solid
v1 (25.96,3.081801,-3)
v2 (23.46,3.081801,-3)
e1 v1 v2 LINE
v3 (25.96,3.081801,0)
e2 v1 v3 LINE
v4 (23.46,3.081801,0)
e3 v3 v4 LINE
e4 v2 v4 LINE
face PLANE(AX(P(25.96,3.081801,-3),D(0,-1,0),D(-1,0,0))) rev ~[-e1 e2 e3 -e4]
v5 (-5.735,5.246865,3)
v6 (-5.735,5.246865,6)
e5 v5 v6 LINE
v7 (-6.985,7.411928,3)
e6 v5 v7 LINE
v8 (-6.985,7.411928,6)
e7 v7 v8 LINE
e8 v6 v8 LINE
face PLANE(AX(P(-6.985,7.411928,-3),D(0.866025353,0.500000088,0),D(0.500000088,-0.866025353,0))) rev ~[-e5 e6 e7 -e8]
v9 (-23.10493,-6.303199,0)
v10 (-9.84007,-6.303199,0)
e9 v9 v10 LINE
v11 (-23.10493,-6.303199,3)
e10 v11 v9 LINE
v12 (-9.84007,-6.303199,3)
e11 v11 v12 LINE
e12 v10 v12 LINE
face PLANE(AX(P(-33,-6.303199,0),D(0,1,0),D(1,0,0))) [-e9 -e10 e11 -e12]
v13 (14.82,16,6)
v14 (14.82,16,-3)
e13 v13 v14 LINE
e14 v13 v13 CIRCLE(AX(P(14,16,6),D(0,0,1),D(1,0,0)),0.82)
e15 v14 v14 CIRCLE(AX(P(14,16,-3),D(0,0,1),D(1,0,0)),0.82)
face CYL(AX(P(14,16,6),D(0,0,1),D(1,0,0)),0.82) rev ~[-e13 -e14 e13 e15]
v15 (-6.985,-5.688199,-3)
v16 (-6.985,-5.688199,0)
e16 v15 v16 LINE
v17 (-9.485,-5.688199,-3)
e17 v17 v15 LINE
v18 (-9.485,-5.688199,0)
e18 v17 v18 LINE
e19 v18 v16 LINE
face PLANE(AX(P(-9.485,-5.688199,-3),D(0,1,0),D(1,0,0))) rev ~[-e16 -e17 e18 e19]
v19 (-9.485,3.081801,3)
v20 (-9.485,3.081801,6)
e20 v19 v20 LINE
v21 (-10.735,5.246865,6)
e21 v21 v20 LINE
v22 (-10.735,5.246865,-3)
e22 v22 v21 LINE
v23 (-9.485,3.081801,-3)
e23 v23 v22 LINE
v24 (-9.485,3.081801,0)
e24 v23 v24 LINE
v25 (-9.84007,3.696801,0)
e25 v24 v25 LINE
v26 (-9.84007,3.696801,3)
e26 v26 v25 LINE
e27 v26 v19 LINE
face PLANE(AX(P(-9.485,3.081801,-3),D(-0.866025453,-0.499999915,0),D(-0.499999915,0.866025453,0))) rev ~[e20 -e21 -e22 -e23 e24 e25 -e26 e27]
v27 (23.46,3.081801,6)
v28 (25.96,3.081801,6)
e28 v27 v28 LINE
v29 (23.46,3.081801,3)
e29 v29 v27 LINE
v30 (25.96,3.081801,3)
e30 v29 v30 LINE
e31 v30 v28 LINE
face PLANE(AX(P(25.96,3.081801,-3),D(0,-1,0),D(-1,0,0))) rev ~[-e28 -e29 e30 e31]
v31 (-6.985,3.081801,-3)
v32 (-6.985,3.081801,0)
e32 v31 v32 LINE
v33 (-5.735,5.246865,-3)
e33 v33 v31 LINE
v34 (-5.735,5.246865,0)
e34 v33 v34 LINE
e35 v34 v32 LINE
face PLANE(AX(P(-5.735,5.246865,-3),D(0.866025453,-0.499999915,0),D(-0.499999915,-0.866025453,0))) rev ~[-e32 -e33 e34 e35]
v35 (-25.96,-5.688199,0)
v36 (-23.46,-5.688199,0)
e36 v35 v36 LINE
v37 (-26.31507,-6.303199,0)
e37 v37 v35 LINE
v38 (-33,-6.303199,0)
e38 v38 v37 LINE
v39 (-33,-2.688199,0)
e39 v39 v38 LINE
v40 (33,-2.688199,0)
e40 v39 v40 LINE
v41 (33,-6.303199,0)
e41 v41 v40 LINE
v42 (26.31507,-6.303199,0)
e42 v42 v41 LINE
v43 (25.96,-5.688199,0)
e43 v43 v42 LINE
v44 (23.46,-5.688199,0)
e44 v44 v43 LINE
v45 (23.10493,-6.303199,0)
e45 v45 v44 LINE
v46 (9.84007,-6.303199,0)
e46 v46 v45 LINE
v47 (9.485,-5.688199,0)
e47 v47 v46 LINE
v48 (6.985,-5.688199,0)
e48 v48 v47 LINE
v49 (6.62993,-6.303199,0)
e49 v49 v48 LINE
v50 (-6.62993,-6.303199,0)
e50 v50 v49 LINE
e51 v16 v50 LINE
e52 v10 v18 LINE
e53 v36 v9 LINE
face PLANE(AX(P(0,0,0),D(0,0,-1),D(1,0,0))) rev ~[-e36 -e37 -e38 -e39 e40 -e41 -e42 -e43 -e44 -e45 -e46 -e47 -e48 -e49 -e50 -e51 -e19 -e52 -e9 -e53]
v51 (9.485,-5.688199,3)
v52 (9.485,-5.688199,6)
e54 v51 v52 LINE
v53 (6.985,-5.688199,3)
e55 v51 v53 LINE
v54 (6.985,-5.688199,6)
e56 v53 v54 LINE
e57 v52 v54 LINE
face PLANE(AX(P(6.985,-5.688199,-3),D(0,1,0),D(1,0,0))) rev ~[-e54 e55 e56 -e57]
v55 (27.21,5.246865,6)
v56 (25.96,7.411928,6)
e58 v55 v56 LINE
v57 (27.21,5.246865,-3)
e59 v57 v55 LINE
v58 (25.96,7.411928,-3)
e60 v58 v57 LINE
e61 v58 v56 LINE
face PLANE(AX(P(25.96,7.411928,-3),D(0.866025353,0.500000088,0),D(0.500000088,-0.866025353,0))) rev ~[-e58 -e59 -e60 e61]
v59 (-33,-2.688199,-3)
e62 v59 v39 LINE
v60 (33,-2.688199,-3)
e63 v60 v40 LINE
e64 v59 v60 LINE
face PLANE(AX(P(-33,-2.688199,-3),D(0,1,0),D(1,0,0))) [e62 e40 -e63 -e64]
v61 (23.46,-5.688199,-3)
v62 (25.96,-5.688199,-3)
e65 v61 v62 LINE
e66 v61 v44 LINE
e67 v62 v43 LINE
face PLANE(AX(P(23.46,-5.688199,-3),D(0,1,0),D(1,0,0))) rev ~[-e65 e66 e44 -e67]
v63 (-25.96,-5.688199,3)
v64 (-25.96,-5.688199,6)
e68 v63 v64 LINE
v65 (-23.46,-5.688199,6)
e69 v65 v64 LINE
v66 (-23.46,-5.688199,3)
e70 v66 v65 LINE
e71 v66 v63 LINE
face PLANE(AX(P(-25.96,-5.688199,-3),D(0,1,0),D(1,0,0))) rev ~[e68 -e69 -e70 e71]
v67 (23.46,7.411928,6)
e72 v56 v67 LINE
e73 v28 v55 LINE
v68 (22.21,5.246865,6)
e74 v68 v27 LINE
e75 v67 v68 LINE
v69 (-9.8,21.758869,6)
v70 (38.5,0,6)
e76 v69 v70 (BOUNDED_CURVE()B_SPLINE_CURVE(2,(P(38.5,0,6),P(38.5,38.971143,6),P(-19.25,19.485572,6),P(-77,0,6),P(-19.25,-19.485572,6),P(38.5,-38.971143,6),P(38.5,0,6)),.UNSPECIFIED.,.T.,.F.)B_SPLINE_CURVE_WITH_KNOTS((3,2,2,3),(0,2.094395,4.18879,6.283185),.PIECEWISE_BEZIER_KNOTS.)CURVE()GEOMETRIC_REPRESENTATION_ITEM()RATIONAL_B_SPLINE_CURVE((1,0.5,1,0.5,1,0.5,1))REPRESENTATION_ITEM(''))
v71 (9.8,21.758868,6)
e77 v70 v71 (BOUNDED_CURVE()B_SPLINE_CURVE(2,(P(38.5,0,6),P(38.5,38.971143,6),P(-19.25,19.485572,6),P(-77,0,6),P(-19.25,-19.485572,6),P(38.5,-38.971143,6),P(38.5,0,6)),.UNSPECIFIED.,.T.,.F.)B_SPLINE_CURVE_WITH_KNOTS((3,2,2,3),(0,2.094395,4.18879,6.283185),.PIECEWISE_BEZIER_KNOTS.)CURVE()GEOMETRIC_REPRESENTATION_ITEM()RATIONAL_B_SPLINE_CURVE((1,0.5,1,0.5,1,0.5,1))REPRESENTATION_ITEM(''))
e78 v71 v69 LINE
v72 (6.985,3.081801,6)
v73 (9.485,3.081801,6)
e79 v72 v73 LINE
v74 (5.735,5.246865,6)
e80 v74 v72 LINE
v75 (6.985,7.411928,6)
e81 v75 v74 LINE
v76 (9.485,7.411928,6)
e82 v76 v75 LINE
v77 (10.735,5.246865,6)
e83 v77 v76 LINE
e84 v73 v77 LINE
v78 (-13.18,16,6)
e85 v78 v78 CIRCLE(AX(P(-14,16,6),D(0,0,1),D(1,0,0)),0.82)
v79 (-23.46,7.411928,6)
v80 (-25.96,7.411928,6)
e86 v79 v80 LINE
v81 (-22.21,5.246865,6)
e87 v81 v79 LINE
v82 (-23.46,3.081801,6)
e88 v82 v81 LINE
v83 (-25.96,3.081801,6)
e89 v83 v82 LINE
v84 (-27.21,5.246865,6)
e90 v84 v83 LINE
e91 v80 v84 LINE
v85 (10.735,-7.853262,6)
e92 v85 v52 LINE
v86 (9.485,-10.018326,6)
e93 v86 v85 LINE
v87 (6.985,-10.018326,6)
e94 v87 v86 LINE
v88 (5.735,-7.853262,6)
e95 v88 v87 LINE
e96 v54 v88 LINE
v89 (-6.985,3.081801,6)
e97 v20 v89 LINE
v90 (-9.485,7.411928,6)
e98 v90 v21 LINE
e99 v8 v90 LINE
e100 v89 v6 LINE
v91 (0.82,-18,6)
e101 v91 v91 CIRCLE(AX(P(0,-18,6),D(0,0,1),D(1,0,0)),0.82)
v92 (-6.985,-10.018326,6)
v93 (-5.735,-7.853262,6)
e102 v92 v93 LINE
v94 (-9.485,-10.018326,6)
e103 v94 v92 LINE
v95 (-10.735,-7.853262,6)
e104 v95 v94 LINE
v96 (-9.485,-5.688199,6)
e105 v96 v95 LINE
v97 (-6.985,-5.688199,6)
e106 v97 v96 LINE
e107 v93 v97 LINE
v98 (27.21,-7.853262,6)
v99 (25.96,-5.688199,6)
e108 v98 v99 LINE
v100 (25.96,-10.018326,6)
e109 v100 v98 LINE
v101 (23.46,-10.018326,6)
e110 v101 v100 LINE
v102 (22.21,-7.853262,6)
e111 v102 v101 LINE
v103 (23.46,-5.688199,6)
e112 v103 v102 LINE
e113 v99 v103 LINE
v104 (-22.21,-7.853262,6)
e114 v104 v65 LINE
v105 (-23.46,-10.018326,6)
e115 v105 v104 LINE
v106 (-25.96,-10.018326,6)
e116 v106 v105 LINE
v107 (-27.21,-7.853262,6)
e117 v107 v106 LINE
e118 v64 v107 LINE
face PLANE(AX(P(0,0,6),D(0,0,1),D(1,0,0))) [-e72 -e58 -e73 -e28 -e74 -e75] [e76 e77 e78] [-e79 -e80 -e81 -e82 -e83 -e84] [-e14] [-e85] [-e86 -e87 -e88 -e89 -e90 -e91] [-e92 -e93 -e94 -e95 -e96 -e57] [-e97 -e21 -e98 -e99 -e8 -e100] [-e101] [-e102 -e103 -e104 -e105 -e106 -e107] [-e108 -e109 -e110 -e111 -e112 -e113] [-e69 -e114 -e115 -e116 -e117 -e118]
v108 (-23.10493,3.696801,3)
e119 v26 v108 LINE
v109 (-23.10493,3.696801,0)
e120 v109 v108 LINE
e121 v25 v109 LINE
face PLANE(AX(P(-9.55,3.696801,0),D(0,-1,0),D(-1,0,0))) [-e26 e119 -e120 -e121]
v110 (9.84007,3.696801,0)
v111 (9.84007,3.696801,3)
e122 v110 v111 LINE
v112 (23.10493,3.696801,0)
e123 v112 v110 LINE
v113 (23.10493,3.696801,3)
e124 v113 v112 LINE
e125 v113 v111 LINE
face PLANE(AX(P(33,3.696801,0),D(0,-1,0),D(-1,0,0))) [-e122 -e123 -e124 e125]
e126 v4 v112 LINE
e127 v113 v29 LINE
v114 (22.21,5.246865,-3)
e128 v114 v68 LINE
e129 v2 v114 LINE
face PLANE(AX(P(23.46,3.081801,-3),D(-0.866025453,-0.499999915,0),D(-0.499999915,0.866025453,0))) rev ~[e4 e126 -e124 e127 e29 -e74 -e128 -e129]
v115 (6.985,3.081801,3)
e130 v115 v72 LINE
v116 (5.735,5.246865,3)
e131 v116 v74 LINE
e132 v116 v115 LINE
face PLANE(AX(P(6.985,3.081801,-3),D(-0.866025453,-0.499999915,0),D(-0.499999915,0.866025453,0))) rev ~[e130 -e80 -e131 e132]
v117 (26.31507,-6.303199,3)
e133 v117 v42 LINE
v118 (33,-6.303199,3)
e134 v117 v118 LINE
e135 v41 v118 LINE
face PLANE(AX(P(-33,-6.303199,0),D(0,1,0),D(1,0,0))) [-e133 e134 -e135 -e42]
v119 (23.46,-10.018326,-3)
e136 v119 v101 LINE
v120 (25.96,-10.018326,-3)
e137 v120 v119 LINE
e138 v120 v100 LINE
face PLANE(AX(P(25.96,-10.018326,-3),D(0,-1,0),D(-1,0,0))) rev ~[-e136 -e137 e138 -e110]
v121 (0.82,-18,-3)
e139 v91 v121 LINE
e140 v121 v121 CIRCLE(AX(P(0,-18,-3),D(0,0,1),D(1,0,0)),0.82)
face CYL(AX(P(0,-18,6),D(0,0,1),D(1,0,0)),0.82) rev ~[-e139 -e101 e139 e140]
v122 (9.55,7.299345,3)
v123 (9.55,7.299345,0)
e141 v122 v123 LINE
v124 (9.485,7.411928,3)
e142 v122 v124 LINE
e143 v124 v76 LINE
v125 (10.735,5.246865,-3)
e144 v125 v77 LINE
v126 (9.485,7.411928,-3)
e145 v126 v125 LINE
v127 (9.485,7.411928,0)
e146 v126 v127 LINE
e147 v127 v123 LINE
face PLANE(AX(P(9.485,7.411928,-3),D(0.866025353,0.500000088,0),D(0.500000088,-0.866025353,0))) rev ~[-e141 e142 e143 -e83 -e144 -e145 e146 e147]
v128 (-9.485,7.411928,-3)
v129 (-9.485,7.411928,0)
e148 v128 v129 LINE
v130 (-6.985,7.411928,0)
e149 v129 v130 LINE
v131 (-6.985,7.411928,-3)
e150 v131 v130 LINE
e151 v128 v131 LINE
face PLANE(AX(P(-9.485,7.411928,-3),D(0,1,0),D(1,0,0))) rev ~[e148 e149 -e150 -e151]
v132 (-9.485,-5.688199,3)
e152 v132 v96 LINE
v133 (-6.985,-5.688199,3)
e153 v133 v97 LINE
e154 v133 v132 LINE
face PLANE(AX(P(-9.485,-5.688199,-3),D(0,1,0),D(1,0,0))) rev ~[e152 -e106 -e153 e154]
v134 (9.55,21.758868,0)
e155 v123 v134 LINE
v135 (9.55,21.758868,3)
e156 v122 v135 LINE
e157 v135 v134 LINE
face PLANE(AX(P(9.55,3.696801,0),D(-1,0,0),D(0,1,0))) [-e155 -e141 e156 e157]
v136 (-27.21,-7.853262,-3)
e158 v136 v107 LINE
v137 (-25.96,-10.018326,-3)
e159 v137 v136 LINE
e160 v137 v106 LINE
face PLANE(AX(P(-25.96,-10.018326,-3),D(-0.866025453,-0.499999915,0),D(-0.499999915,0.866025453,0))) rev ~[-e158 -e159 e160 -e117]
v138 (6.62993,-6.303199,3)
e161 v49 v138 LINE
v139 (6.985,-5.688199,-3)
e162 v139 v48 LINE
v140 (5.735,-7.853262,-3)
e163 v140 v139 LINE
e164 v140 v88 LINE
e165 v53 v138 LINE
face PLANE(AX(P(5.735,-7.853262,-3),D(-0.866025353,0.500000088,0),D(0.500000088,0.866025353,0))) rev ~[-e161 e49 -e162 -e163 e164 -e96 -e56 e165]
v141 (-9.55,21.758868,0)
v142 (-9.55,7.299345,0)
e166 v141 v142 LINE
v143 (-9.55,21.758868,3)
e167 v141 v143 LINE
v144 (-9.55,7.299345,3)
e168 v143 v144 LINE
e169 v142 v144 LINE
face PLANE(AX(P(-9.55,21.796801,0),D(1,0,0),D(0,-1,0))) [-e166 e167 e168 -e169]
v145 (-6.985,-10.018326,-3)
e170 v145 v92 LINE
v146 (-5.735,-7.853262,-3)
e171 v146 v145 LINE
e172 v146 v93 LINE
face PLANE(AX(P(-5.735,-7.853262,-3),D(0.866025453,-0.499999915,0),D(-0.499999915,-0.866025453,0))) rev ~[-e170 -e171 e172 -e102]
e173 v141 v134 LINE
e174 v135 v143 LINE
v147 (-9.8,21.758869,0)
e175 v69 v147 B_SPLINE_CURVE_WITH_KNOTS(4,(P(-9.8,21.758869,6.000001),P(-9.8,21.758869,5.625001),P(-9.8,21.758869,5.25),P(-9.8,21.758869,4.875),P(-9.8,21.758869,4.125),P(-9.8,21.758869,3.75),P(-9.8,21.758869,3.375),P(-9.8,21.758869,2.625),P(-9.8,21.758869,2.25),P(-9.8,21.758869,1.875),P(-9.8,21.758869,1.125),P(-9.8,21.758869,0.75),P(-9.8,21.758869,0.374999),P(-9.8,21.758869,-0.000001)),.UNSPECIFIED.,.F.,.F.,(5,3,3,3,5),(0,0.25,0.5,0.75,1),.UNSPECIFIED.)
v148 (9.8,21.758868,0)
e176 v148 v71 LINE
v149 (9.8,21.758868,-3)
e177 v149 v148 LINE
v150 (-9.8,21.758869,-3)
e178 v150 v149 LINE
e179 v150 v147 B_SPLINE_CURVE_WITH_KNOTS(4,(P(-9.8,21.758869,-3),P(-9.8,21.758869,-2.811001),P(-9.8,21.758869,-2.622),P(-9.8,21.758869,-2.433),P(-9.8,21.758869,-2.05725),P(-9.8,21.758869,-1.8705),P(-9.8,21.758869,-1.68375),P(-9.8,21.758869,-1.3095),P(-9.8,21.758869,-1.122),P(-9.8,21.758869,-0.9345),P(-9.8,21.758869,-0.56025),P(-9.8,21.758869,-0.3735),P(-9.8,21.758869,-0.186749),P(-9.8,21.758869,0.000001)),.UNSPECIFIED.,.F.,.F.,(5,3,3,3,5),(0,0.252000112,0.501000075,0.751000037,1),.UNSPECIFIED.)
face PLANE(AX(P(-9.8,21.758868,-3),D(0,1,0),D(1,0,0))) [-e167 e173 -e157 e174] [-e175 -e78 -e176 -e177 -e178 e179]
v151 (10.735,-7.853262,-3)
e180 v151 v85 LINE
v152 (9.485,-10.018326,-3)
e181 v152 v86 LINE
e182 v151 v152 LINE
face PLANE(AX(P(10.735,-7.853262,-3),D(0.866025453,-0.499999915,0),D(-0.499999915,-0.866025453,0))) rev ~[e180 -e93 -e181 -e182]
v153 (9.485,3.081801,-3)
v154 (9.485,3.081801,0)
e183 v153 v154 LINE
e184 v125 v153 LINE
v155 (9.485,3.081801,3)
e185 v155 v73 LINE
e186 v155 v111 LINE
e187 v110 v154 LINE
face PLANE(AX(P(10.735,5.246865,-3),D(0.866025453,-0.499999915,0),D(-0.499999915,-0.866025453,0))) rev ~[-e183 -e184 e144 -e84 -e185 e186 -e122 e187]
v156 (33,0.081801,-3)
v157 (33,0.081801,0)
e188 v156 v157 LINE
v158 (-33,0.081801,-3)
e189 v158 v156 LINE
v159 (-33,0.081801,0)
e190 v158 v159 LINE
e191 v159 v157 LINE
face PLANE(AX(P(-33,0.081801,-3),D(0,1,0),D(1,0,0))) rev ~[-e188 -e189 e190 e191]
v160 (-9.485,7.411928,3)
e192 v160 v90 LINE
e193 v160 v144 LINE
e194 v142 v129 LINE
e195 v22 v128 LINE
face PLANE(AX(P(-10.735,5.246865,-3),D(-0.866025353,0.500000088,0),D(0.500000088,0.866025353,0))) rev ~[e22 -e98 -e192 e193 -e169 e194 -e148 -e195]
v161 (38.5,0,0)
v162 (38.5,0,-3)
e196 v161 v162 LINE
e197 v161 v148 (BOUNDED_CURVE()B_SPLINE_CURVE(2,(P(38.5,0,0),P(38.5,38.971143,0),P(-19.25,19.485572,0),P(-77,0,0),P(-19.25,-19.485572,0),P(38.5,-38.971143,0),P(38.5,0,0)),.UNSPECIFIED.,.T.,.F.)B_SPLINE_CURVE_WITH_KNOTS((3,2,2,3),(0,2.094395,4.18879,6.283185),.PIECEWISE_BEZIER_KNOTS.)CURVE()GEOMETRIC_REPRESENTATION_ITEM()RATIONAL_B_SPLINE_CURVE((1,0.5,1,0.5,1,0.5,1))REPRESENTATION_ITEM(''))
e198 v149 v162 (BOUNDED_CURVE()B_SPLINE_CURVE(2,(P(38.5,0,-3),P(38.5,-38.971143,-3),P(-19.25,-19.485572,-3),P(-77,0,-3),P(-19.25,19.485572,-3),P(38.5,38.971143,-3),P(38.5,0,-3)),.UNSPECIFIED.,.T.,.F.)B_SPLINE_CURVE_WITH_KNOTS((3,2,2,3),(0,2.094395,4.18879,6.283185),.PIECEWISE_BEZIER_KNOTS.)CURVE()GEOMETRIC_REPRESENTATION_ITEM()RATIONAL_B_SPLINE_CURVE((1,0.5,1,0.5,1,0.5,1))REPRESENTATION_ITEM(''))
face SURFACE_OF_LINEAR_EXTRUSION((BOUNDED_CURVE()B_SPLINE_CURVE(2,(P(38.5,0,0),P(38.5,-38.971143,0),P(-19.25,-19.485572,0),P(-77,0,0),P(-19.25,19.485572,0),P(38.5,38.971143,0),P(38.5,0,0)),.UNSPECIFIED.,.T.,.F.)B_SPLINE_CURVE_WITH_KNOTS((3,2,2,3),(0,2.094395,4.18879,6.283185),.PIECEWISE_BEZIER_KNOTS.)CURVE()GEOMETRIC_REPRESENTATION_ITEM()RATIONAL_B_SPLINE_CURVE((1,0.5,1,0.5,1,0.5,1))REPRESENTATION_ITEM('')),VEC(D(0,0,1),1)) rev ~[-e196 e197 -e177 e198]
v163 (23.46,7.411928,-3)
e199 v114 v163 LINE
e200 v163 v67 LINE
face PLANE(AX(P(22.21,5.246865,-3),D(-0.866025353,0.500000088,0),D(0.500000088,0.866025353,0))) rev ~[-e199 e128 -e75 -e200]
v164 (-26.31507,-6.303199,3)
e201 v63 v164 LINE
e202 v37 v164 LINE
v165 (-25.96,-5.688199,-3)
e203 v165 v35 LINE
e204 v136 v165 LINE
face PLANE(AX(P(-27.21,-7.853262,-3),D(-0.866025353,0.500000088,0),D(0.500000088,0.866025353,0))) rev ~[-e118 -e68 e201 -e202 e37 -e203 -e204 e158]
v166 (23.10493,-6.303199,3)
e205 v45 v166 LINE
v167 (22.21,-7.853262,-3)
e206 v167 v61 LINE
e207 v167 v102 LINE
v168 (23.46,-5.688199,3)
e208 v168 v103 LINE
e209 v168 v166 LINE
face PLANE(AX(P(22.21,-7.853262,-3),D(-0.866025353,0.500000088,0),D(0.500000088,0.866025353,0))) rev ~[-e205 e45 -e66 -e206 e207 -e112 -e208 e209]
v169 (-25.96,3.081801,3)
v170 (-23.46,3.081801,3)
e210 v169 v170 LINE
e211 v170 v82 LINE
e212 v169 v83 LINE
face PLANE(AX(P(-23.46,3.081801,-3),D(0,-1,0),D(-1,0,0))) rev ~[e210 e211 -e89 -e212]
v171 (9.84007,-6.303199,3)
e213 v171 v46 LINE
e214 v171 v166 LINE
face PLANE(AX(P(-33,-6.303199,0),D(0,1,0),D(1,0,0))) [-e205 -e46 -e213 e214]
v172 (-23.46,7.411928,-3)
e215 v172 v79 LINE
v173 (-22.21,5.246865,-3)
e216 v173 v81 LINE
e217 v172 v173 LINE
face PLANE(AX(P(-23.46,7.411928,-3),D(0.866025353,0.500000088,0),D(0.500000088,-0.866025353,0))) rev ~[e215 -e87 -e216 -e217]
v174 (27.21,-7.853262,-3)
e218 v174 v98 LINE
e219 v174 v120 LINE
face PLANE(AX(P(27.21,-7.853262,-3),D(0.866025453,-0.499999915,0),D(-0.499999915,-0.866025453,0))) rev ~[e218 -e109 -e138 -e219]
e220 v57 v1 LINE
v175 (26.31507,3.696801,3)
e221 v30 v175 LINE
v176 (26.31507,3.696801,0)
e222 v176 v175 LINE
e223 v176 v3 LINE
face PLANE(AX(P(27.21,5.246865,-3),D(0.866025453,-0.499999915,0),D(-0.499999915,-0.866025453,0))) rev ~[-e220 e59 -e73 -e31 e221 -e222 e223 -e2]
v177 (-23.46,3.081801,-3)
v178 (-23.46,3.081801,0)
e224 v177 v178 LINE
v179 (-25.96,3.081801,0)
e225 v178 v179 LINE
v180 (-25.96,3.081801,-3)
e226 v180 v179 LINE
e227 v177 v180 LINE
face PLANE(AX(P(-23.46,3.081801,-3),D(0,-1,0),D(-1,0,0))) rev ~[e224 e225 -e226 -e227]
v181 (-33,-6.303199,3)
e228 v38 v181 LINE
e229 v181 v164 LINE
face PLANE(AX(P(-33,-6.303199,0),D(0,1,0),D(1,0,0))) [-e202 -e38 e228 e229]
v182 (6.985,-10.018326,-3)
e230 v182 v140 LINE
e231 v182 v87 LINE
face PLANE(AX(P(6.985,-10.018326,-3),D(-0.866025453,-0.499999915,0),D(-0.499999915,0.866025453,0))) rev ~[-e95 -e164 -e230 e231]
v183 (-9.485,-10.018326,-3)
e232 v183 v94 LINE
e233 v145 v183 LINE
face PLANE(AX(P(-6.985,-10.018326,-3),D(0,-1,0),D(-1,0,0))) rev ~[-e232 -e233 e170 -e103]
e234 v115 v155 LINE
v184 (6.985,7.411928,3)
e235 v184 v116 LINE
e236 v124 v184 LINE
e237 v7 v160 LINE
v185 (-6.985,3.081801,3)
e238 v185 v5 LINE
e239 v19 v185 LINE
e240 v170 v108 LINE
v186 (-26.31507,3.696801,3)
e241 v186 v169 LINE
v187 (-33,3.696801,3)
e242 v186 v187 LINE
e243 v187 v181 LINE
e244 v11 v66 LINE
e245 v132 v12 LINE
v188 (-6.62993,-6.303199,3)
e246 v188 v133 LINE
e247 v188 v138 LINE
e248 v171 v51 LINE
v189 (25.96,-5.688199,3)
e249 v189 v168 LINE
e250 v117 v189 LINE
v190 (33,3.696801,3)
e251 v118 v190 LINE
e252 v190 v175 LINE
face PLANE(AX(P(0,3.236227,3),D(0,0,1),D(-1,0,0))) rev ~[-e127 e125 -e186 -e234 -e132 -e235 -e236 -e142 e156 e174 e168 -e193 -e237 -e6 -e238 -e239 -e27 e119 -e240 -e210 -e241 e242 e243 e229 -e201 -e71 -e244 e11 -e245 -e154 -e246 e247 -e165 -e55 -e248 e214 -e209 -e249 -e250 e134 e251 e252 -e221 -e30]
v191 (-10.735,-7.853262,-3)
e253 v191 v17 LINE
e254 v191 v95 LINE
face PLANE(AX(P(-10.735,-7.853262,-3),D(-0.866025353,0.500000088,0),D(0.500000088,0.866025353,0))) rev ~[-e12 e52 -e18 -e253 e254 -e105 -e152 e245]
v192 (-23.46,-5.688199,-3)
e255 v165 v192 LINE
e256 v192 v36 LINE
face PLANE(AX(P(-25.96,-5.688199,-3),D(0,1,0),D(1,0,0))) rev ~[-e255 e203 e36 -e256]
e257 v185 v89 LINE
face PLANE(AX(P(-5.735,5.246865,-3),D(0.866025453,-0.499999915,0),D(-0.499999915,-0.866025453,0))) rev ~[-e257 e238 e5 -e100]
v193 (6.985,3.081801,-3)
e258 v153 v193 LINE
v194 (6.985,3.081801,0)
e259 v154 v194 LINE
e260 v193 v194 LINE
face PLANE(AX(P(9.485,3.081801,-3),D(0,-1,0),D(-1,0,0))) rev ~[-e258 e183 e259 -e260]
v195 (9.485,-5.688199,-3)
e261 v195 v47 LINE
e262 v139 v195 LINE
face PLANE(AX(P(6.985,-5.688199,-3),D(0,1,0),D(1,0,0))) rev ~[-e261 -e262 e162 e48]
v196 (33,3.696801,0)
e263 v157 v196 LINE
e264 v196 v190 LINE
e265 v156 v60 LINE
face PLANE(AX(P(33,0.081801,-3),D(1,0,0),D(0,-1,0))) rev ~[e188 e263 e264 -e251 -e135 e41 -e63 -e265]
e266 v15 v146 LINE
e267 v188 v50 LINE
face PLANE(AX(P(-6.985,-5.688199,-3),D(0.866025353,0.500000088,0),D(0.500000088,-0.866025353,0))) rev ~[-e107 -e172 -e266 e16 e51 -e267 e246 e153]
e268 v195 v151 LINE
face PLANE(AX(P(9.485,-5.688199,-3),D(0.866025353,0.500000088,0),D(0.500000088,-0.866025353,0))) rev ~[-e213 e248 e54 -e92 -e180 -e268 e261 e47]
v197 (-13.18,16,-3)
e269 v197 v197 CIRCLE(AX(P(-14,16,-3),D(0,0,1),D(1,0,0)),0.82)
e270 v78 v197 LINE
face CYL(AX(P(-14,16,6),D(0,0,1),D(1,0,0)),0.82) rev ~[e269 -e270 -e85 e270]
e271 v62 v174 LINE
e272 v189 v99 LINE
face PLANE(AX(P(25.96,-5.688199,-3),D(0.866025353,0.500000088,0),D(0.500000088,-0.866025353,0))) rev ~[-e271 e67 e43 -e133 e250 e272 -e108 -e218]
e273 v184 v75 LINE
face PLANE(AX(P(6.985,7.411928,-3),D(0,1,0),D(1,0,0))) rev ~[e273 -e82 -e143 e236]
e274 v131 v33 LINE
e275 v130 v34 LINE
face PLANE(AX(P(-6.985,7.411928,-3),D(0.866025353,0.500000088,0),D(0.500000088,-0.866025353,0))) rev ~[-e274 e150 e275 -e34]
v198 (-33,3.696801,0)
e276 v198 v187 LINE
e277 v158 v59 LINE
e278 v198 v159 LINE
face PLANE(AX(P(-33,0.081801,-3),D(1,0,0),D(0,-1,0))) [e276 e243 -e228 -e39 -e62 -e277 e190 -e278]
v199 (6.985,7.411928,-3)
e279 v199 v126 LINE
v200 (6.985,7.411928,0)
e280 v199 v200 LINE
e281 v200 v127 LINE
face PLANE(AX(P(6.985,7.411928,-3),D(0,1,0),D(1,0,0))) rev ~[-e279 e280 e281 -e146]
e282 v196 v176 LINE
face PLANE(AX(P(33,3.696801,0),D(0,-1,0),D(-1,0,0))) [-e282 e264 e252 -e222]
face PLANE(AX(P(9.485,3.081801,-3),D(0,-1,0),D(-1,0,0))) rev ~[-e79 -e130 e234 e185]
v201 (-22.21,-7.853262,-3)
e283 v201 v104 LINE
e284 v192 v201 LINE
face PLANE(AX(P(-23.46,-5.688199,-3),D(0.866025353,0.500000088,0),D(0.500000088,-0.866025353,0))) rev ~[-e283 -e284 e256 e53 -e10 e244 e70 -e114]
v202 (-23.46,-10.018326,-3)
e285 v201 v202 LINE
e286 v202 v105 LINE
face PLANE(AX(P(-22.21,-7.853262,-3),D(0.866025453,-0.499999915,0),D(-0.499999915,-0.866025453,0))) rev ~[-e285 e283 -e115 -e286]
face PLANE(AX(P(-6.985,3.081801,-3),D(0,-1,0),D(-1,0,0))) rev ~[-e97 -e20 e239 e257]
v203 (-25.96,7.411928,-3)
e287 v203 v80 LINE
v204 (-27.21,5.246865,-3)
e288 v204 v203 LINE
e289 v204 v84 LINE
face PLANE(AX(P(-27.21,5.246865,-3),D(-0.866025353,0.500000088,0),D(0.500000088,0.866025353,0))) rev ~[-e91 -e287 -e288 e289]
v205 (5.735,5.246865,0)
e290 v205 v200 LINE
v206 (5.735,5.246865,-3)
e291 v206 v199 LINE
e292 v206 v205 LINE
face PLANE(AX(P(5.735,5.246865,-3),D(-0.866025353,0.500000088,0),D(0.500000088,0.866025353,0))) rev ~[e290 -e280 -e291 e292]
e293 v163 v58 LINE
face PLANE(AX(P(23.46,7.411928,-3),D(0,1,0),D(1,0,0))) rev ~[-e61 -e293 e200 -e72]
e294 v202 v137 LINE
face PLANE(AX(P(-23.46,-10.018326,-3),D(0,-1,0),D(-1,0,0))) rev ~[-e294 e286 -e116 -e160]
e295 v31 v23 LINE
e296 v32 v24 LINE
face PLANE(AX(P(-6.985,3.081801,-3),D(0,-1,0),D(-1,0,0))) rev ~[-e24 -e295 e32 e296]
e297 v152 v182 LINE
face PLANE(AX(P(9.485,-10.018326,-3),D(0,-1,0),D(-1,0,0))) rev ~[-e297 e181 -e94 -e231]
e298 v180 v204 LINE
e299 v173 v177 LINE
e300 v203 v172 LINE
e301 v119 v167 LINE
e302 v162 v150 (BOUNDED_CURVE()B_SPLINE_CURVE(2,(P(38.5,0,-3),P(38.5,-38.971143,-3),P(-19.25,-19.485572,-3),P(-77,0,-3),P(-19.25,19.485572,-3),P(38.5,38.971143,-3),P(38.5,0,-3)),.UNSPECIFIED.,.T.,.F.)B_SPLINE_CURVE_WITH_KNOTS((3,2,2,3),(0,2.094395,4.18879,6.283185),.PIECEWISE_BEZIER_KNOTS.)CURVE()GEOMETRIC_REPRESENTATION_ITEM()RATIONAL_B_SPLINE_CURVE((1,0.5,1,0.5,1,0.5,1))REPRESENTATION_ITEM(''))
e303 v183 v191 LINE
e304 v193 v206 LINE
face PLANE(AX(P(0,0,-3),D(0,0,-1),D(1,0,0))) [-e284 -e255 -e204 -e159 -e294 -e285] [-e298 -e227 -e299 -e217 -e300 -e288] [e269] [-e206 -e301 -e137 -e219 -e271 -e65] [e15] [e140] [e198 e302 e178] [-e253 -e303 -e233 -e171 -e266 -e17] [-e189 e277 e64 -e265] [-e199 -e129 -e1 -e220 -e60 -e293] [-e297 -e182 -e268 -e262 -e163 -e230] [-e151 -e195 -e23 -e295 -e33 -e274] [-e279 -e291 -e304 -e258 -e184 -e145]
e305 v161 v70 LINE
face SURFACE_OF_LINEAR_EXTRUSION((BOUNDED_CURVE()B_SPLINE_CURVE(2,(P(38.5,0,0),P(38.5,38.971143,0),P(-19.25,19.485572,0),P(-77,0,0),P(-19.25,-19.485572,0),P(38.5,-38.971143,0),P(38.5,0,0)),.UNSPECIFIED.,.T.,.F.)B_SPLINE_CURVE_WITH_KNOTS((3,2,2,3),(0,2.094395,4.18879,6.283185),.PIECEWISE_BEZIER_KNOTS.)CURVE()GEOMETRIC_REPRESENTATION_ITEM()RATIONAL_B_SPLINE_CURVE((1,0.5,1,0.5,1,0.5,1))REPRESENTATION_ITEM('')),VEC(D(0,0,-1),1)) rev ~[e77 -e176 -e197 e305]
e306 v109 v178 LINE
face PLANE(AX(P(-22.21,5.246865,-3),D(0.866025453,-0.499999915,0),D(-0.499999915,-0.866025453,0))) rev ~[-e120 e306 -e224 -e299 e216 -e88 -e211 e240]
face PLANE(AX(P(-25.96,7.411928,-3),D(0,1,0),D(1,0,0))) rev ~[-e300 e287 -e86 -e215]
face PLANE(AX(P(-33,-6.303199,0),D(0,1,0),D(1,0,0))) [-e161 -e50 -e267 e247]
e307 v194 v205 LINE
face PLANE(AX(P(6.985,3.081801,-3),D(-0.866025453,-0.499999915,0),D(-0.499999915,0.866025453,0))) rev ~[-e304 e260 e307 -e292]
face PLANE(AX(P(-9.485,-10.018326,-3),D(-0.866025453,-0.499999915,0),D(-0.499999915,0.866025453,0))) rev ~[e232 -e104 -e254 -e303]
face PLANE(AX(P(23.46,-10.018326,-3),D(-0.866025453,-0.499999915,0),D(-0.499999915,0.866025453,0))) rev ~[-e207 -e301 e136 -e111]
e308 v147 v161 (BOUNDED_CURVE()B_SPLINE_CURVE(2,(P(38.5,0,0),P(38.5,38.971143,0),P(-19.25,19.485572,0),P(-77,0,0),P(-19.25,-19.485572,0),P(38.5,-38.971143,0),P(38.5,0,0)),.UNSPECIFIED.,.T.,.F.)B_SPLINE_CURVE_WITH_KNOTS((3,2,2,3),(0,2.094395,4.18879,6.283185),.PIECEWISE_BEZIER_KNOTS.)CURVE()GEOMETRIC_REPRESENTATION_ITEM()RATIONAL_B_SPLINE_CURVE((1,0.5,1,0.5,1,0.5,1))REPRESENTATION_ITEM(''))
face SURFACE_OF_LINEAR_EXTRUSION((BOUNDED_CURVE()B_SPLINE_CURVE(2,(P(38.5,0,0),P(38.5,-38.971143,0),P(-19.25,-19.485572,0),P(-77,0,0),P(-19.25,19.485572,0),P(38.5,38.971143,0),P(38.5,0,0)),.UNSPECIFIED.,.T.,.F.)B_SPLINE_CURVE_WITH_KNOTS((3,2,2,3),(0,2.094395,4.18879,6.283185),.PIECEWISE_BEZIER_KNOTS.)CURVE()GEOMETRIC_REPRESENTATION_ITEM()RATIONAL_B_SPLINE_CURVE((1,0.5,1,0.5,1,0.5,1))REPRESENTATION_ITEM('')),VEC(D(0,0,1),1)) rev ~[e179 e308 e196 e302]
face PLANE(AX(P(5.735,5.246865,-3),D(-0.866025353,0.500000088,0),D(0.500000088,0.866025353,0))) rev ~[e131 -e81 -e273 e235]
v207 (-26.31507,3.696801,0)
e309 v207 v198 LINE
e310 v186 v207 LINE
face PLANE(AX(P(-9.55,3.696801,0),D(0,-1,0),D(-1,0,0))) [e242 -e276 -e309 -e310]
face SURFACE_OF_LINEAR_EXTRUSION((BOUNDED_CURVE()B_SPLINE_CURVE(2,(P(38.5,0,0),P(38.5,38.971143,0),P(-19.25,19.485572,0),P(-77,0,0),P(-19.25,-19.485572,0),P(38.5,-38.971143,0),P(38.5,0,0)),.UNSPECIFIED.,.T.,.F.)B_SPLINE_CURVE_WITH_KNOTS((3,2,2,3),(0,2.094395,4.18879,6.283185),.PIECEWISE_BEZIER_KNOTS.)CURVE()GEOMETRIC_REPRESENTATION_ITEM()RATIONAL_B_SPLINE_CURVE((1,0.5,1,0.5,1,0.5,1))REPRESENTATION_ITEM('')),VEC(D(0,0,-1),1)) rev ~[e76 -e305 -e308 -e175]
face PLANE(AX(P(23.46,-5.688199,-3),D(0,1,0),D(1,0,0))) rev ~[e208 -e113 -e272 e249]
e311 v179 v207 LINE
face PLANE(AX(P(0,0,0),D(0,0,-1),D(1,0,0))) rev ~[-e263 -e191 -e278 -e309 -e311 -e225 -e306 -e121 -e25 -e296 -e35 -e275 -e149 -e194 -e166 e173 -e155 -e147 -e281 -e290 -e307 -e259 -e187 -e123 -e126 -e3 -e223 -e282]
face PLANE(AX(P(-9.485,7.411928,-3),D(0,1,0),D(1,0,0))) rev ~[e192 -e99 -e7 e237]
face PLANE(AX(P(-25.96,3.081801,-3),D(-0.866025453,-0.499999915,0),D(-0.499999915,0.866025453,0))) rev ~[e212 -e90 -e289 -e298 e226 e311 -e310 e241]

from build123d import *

# Parameters (mm, degrees)
PAD_DEPTH       = 6
POCKET_DEPTH    = 3
PAD001_DEPTH    = 3
SKETCH003_W     = 66
SKETCH003_H     = 2.77
POCKET001_DEPTH = 3
SKETCH004_W     = 19.6
SKETCH004_H     = 1
POCKET002_DEPTH = 9.001
SKETCH005_R     = 0.82
POCKET003_DEPTH = 9.001
POCKET004_DEPTH = 9.001


with BuildPart() as part:
    # Sketch → Pad (new body)
    with BuildSketch(Plane.XY):
        with BuildLine():
            add(Edge.make_bspline(
                [(38.5, 0), (38.5, 38.971143), (-19.25, 19.485572), (-77, 0), (-19.25, -19.485572), (38.5, -38.971143), (38.5, 0)],
                knots=[0, 0, 0, 2.094395, 2.094395, 4.18879, 4.18879, 6.283185, 6.283185, 6.283185], degree=2, weights=[1, 0.5, 1, 0.5, 1, 0.5, 1]))
        make_face()
    extrude(amount=PAD_DEPTH)

    # Sketch001 (on Face2 of Pad) → Pocket (cut)
    with BuildSketch(Plane(origin=(0, 0, 0), x_dir=(1, 0, 0), z_dir=(0, 0, -1))):
        Polygon((9.55, -3.696801), (9.55, -21.796801), (-9.55, -21.796801), (-9.55, -3.696801), (-33, -3.696801), (-33, 6.303199), (33, 6.303199), (33, -3.696801), align=None)
    extrude(amount=-POCKET_DEPTH, mode=Mode.SUBTRACT)

    # Sketch002 (on Face2 of Pocket) → Pad001 (join)
    with BuildSketch(Plane(origin=(0, 0, 0), x_dir=(1, 0, 0), z_dir=(0, 0, -1))):
        with BuildLine():
            add(Edge.make_bspline(
                [(38.5, 0), (38.5, 38.971143), (-19.25, 19.485572), (-77, 0), (-19.25, -19.485572), (38.5, -38.971143), (38.5, 0)],
                knots=[0, 0, 0, 2.094395, 2.094395, 4.18879, 4.18879, 6.283185, 6.283185, 6.283185], degree=2, weights=[1, 0.5, 1, 0.5, 1, 0.5, 1]))
        make_face()
    extrude(amount=PAD001_DEPTH)

    # Sketch003 (on Face4 of Pad001) → Pocket001 (cut)
    with BuildSketch(Plane(origin=(0, 0, -3), x_dir=(1, 0, 0), z_dir=(0, 0, -1))):
        with Locations((0, 1.303199)):
            Rectangle(SKETCH003_W, SKETCH003_H)
    extrude(amount=-POCKET001_DEPTH, mode=Mode.SUBTRACT)

    # Sketch004 (on Face4 of Pocket001) → Pocket002 (cut, through all)
    with BuildSketch(Plane(origin=(0, 0, -3), x_dir=(1, 0, 0), z_dir=(0, 0, -1))):
        with Locations((0, -22.258868)):
            Rectangle(SKETCH004_W, SKETCH004_H)
    extrude(amount=-POCKET002_DEPTH, mode=Mode.SUBTRACT)

    # Sketch005 (on Face4 of Pocket002) → Pocket003 (cut, through all)
    with BuildSketch(Plane.XY.offset(6)):
        with Locations((-14, 16)):
            Circle(SKETCH005_R)
        with Locations((14, 16)):
            Circle(SKETCH005_R)
        with Locations((0, -18)):
            Circle(SKETCH005_R)
    extrude(amount=-POCKET003_DEPTH, mode=Mode.SUBTRACT)

    # Sketch006 (on Face7 of Pocket003) → Pocket004 (cut, through all)
    with BuildSketch(Plane(origin=(0, 0, -3), x_dir=(1, 0, 0), z_dir=(0, 0, -1))):
        Polygon((-22.21, -5.246865), (-23.46, -3.081801), (-25.96, -3.081801), (-27.21, -5.246865), (-25.96, -7.411928), (-23.46, -7.411928), align=None)
        Polygon((-23.46, 5.688199), (-22.21, 7.853262), (-23.46, 10.018326), (-25.96, 10.018326), (-27.21, 7.853262), (-25.96, 5.688199), align=None)
        Polygon((-5.735, -5.246865), (-6.985, -3.081801), (-9.485, -3.081801), (-10.735, -5.246865), (-9.485, -7.411928), (-6.985, -7.411928), align=None)
        Polygon((-9.485, 5.688199), (-6.985, 5.688199), (-5.735, 7.853262), (-6.985, 10.018326), (-9.485, 10.018326), (-10.735, 7.853262), align=None)
        Polygon((10.735, -5.246865), (9.485, -3.081801), (6.985, -3.081801), (5.735, -5.246865), (6.985, -7.411928), (9.485, -7.411928), align=None)
        Polygon((9.485, 5.688199), (10.735, 7.853262), (9.485, 10.018326), (6.985, 10.018326), (5.735, 7.853262), (6.985, 5.688199), align=None)
        Polygon((27.21, -5.246865), (25.96, -3.081801), (23.46, -3.081801), (22.21, -5.246865), (23.46, -7.411928), (25.96, -7.411928), align=None)
        Polygon((25.96, 5.688199), (27.21, 7.853262), (25.96, 10.018326), (23.46, 10.018326), (22.21, 7.853262), (23.46, 5.688199), align=None)
    extrude(amount=-POCKET004_DEPTH, mode=Mode.SUBTRACT)


solid = part.part
